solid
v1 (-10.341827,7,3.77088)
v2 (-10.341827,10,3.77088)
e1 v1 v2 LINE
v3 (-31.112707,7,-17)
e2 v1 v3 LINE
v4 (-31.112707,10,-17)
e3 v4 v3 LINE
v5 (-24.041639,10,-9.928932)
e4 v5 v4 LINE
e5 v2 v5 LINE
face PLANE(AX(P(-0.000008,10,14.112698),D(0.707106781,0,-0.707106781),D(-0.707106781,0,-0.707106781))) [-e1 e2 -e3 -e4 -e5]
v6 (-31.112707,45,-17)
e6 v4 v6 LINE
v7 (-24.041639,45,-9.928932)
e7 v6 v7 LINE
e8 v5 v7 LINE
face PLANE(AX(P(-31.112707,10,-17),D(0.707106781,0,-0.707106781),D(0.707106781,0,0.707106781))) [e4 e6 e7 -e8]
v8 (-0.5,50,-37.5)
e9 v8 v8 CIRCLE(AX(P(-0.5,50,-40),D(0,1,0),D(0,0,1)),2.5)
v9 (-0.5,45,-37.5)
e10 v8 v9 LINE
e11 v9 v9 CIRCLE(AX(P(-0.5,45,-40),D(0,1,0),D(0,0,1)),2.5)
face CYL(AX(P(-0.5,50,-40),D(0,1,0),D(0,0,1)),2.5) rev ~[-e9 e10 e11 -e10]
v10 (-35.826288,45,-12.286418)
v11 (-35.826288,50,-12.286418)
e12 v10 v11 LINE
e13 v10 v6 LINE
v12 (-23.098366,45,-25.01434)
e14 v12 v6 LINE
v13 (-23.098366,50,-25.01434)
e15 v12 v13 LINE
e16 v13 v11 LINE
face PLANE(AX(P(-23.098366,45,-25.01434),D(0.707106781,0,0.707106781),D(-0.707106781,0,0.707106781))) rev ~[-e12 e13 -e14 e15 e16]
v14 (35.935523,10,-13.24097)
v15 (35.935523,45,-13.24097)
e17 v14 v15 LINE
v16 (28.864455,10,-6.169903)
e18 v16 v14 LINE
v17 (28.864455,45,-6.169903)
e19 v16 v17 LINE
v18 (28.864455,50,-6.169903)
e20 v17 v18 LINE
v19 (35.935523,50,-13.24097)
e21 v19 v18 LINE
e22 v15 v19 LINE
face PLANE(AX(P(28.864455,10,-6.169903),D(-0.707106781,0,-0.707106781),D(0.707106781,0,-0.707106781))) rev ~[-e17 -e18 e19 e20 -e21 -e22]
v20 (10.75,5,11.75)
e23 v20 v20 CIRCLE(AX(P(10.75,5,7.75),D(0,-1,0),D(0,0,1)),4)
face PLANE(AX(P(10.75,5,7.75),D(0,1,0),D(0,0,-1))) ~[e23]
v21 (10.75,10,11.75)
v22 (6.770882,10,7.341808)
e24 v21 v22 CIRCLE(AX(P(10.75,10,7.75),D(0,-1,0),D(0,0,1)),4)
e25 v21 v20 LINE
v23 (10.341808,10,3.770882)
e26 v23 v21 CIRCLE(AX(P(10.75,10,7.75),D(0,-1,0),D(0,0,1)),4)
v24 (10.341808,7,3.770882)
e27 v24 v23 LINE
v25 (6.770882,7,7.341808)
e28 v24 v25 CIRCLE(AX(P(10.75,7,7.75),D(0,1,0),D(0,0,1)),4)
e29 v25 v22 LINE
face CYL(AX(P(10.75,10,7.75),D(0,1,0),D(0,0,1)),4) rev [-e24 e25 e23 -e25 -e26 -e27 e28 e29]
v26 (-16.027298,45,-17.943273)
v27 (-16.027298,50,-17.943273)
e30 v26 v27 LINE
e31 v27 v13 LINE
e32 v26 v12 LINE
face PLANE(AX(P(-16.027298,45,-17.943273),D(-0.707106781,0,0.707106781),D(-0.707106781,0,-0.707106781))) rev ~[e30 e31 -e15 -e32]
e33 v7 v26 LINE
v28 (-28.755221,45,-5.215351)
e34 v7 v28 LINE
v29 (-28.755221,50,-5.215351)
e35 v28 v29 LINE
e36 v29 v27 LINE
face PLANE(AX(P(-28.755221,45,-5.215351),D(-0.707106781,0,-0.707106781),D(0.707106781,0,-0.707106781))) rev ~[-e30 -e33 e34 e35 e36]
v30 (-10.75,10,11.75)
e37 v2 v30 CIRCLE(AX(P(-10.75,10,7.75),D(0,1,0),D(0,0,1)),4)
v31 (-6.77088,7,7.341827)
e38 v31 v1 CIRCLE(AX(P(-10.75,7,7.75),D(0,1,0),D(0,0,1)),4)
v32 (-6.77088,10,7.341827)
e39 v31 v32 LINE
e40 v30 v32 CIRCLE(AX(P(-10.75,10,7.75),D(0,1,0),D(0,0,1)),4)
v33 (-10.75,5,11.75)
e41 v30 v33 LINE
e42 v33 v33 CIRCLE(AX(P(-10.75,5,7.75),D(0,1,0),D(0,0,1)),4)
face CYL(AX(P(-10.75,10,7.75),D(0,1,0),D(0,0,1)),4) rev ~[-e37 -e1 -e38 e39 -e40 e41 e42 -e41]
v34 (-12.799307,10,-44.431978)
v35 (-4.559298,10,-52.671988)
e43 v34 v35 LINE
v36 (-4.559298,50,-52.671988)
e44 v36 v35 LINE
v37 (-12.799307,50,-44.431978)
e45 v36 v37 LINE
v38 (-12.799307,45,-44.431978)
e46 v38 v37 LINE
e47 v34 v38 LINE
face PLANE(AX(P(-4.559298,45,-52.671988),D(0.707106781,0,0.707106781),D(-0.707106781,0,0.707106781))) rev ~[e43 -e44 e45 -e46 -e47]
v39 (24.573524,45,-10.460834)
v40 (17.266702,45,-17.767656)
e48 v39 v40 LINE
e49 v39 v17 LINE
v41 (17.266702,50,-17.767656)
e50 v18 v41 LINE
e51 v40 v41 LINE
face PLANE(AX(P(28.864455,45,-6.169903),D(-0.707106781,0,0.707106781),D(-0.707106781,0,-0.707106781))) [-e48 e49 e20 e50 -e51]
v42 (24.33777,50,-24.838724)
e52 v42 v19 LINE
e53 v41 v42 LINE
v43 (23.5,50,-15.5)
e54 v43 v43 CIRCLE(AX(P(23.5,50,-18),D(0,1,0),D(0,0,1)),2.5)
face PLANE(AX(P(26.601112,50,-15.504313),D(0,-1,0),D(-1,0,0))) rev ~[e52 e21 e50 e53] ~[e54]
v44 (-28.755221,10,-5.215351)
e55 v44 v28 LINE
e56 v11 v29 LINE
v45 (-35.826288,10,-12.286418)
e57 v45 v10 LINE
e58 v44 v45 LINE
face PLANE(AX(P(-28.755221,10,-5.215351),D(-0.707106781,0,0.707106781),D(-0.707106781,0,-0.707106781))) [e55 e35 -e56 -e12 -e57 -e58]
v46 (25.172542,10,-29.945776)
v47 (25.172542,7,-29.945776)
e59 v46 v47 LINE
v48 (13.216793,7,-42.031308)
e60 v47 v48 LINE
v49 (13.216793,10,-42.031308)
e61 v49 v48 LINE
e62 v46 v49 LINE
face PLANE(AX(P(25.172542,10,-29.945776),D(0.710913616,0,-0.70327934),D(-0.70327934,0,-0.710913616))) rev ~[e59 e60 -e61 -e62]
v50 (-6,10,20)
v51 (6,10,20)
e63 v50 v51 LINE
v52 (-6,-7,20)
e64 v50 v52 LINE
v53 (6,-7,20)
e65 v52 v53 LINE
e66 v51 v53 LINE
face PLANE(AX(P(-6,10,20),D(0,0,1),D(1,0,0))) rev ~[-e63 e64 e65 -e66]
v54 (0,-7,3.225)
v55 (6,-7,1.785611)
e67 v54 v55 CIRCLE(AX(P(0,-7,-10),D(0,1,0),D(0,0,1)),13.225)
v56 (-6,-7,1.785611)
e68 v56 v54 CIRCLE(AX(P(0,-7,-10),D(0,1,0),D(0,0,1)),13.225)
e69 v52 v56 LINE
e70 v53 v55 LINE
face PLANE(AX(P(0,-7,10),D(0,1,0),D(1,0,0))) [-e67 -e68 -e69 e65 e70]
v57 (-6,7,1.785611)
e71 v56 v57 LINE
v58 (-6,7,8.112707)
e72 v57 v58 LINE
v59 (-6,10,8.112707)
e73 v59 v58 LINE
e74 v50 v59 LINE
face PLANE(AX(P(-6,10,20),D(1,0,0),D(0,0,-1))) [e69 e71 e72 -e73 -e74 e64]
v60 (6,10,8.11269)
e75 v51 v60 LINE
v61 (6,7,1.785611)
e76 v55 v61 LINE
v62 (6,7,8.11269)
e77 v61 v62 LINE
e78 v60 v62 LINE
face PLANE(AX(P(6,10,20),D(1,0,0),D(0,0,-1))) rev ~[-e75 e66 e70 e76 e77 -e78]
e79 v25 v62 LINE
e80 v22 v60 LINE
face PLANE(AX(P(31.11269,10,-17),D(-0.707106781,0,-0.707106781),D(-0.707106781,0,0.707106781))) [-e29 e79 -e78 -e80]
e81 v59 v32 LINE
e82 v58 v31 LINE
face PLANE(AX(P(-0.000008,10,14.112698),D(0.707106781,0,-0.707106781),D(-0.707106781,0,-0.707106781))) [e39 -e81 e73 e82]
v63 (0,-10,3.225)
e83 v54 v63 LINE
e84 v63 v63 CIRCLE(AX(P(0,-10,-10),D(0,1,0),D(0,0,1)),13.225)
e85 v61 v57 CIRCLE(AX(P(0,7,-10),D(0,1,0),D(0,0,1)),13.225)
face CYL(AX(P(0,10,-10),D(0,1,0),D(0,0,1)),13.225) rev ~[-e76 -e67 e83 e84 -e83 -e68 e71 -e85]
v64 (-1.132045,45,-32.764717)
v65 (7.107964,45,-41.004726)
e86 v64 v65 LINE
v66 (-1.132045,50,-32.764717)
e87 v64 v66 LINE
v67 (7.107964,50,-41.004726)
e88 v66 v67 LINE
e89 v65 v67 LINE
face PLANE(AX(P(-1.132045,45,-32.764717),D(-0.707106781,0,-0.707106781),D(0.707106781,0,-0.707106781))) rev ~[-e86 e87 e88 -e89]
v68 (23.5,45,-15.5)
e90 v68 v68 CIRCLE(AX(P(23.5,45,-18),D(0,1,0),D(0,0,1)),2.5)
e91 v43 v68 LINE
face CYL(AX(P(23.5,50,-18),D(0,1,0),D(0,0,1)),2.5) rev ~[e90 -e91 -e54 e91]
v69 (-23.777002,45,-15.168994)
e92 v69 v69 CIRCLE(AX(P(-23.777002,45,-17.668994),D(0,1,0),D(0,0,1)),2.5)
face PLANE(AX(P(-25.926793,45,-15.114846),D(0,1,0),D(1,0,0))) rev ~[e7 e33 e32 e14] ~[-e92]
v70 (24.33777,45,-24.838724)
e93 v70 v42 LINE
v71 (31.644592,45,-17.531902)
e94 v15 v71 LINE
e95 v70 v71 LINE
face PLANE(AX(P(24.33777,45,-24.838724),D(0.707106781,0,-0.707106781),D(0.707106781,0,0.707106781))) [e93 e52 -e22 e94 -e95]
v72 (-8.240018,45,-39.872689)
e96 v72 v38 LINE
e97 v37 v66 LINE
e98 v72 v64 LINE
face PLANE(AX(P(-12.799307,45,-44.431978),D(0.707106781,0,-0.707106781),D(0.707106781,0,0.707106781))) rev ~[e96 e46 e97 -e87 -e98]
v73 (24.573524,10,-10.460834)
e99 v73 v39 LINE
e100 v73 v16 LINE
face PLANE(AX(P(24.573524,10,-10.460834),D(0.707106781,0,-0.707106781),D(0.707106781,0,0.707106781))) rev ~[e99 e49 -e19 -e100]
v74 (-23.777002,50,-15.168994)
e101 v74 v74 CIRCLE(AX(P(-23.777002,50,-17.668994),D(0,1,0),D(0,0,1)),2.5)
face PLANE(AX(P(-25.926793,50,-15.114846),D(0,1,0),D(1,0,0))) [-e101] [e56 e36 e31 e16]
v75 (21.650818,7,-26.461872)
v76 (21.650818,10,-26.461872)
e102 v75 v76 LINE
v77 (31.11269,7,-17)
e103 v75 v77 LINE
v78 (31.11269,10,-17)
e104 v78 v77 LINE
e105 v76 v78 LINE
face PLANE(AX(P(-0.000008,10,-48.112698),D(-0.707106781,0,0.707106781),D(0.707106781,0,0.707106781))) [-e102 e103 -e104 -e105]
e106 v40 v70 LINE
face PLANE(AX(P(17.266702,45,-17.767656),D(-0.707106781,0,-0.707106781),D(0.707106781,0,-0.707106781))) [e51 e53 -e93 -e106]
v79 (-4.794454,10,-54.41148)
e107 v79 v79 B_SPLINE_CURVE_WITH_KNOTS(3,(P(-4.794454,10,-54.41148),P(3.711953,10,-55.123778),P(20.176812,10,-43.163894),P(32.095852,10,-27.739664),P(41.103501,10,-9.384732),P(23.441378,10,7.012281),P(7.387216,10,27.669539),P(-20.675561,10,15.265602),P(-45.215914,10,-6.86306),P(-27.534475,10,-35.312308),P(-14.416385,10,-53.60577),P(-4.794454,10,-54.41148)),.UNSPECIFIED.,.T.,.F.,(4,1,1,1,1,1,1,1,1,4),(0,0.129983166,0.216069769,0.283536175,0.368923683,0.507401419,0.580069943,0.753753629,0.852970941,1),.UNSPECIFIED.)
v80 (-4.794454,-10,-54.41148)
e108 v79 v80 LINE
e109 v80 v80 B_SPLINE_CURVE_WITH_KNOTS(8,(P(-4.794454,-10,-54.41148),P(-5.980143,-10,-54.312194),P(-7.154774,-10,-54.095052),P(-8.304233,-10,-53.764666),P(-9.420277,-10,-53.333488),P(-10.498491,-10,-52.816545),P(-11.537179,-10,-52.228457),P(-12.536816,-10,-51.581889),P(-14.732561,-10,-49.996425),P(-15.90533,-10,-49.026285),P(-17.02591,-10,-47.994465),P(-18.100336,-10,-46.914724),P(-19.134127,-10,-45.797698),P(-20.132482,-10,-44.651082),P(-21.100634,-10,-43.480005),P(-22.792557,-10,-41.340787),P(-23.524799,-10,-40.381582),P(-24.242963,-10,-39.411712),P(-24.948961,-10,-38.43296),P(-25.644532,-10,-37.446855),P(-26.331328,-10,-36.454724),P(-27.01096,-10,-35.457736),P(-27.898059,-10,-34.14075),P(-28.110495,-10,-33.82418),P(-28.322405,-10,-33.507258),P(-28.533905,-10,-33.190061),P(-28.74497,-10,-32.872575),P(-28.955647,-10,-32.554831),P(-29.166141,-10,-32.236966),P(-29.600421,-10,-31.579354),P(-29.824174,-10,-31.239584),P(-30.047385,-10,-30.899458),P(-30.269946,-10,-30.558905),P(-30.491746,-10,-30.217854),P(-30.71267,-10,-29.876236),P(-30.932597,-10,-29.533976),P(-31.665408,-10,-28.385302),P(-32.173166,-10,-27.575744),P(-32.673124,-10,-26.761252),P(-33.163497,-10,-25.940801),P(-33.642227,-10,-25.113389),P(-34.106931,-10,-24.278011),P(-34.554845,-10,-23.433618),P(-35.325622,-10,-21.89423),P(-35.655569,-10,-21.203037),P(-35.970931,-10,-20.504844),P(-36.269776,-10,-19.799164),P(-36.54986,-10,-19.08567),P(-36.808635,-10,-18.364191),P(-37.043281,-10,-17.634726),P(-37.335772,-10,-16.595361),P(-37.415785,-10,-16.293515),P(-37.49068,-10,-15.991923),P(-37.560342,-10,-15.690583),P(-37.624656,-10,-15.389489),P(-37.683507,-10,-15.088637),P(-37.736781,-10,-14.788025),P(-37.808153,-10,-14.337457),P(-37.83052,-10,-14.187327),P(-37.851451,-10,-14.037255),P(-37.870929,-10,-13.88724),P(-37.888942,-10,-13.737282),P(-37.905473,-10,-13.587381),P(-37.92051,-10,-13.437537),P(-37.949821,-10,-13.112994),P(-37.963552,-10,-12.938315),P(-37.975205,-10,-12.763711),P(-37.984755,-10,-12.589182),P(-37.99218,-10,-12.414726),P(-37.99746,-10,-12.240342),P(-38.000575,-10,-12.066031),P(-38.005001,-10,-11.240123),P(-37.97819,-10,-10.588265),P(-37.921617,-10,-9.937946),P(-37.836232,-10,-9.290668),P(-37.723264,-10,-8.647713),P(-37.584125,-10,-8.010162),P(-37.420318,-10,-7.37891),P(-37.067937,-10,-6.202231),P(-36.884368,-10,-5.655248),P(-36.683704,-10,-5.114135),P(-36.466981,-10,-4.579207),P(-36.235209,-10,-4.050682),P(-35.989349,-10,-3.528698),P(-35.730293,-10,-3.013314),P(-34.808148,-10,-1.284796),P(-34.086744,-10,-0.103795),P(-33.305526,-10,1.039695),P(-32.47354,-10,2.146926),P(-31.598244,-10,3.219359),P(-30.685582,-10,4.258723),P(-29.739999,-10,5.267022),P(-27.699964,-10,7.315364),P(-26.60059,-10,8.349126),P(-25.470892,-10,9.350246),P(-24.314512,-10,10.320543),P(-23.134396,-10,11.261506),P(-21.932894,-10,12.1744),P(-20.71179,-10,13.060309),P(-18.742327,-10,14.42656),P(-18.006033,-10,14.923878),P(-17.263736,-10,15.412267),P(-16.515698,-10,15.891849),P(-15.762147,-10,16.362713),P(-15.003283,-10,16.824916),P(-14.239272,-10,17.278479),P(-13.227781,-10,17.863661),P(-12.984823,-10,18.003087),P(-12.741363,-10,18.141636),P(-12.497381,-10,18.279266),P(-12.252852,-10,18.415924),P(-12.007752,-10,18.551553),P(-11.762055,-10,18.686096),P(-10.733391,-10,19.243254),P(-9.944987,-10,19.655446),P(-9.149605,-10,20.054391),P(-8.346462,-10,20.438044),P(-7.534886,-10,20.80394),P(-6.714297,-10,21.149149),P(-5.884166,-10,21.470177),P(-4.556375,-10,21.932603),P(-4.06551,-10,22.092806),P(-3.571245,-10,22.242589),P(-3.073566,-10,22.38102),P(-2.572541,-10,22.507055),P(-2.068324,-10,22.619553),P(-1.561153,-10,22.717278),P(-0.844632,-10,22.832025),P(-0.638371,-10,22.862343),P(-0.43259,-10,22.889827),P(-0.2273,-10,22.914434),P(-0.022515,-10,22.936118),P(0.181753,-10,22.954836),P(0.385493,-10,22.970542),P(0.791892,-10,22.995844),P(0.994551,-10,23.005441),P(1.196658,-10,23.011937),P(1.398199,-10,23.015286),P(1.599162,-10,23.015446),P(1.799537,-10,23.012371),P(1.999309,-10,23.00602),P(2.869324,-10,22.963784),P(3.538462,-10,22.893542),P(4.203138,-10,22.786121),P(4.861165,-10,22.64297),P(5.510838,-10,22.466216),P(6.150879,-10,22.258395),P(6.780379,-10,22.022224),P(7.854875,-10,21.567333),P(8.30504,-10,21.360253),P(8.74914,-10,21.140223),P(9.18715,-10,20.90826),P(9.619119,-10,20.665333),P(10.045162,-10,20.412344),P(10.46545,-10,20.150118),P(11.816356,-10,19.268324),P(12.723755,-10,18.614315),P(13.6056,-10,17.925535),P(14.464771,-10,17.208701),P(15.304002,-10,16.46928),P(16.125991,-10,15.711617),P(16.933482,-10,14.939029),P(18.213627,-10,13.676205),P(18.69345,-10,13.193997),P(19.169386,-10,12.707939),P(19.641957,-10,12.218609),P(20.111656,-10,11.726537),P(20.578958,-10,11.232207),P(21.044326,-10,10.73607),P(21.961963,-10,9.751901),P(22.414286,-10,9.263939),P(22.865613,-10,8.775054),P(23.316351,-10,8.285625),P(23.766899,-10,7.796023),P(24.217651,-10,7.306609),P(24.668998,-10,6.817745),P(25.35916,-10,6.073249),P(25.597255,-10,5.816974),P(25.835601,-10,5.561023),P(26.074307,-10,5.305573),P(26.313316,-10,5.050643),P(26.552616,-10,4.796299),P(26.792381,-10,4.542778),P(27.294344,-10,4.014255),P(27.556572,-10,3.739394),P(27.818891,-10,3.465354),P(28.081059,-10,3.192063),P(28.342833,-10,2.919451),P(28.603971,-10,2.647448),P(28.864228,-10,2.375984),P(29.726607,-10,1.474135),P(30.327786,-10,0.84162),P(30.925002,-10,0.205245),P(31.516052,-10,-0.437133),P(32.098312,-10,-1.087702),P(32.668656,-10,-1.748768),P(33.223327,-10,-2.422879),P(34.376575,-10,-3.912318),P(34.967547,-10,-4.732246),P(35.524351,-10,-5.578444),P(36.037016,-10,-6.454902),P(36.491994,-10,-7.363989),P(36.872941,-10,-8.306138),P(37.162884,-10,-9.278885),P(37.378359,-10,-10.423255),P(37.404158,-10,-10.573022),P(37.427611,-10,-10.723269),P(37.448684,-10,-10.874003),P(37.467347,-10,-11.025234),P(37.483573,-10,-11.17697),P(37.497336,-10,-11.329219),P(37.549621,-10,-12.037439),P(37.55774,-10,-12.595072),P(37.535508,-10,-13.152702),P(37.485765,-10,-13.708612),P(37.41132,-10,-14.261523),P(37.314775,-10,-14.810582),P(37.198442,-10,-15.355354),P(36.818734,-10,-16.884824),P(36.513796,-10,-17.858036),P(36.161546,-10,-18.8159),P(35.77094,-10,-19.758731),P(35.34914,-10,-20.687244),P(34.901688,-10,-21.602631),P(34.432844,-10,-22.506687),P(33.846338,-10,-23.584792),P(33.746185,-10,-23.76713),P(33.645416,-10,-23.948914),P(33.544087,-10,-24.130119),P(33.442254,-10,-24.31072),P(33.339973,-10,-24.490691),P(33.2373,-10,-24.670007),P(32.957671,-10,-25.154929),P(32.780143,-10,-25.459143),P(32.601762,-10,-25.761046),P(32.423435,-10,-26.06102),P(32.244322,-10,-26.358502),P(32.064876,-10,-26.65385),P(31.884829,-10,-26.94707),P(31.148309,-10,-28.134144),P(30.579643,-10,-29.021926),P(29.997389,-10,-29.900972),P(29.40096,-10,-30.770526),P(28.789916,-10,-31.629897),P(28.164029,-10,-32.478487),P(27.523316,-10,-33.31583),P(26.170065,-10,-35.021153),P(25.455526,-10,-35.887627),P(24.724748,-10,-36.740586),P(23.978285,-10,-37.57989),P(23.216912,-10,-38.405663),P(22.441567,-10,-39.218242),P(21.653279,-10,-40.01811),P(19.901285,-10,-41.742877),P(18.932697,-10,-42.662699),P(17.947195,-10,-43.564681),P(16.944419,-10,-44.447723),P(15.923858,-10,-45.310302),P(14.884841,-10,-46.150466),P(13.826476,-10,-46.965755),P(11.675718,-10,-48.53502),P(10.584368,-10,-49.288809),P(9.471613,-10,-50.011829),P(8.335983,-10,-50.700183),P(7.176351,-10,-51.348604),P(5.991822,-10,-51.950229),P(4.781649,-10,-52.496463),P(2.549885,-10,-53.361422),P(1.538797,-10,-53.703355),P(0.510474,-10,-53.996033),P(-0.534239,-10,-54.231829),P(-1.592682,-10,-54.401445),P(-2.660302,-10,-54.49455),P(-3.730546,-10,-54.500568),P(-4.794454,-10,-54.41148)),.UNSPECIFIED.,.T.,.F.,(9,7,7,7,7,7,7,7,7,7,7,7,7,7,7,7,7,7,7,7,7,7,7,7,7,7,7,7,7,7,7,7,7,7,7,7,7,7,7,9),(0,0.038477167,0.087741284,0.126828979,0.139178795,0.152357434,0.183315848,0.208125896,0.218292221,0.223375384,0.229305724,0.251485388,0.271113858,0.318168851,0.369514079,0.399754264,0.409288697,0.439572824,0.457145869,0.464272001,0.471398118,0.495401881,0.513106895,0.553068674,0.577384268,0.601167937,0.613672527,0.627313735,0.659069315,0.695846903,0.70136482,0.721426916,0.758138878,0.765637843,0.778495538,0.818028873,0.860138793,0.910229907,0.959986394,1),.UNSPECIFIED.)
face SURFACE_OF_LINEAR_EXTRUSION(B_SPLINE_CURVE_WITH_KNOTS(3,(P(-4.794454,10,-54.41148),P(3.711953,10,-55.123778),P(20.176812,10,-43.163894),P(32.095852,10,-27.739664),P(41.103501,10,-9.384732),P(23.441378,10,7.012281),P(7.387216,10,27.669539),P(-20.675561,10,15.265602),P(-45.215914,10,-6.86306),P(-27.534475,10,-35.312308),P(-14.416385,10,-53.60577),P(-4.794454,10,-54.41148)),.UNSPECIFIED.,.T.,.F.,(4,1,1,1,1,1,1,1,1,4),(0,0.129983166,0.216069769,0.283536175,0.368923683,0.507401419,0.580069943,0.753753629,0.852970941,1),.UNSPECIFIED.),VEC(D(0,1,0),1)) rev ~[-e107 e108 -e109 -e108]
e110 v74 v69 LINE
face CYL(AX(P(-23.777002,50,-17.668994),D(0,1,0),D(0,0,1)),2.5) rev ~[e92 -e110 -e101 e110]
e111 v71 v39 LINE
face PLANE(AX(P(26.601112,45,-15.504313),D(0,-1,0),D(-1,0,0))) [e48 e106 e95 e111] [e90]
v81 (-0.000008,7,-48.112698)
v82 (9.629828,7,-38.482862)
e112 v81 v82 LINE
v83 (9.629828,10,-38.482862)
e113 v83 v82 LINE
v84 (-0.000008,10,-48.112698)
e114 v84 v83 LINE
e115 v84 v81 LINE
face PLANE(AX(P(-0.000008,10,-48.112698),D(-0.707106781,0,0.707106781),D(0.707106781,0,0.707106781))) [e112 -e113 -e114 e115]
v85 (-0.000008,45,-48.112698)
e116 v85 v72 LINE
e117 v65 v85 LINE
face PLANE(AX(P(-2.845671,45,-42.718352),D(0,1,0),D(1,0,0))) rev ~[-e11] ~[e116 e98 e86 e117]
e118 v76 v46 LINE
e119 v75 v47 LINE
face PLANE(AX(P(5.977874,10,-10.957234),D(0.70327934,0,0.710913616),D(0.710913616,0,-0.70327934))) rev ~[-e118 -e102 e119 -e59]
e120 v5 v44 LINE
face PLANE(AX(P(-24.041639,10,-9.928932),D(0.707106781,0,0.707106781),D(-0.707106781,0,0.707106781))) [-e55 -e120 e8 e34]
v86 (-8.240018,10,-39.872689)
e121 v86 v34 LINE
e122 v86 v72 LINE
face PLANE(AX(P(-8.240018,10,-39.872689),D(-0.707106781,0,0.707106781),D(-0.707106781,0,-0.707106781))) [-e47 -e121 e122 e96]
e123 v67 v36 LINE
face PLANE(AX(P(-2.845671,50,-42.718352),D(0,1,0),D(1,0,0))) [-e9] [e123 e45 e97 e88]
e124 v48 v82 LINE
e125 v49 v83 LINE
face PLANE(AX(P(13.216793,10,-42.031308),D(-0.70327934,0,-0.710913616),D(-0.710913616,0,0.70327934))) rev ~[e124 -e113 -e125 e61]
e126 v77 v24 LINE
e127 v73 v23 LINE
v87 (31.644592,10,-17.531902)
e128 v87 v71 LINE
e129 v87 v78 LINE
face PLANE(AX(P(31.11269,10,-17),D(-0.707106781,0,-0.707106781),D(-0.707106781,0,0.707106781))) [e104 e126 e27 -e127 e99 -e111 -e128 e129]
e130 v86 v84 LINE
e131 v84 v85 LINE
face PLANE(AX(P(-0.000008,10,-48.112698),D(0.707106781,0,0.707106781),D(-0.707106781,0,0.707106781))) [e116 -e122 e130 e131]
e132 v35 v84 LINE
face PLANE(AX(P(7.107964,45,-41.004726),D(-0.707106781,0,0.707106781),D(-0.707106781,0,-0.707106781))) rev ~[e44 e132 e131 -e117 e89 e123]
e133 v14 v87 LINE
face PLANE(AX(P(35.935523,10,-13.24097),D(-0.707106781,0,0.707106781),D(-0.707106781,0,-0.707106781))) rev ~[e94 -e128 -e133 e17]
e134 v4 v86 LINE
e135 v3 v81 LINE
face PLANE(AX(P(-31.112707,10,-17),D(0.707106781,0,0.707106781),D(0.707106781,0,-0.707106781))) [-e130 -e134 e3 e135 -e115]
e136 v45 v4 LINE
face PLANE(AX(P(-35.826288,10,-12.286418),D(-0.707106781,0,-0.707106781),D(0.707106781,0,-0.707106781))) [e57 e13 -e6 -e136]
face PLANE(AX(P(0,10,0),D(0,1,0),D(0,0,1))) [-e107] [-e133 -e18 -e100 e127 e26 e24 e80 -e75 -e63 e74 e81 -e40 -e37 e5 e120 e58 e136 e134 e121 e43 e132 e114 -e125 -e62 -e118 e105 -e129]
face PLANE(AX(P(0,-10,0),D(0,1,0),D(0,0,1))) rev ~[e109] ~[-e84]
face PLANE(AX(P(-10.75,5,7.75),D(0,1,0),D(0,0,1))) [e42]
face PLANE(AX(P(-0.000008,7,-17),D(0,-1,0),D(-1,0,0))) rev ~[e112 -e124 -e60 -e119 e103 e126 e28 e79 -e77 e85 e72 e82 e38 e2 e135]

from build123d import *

# Parameters (mm, degrees)
BOSS_EXTRUDE1_DEPTH      = 10
BOSS_EXTRUDE1_DEPTH_BACK = 10
SKETCH2_R                = 60
SKETCH7_R                = 4
CUT_EXTRUDE2_DEPTH       = 5
CUT_EXTRUDE4_DEPTH       = 3
CUT_EXTRUDE5_DEPTH       = 3
BOSS_EXTRUDE2_DEPTH      = 35
BOSS_EXTRUDE3_DEPTH      = 5
SKETCH13_R               = 2.5
CUT_EXTRUDE7_DEPTH       = 5
SKETCH15_R               = 2.5
CUT_EXTRUDE8_DEPTH       = 5
SKETCH14_R               = 2.5
CUT_EXTRUDE9_DEPTH       = 5
SKETCH16_R               = 60
CUT_EXTRUDE10_DEPTH      = 38
SKETCH4_R                = 13.225
CUT_EXTRUDE12_DEPTH      = 42
SKETCH19_W               = 12
SKETCH19_H               = 20
CUT_EXTRUDE13_DEPTH      = 17


with BuildPart() as part:
    # Sketch2 → Boss-Extrude1 (new, two sides: drawn at the far end of the back side and taken through both)
    with BuildSketch(Plane(origin=(0, 0, 0), x_dir=(1, 0, 0), z_dir=(0, 1, 0)).offset(-BOSS_EXTRUDE1_DEPTH_BACK)):
        with Locations(Location((0, 0, 0), (0, 0, 270))):
            Circle(SKETCH2_R)
    extrude(amount=BOSS_EXTRUDE1_DEPTH + BOSS_EXTRUDE1_DEPTH_BACK)

    # Sketch7 → Cut-Extrude2 (cut)
    with BuildSketch(Plane(origin=(0, 10, 0), x_dir=(1, 0, 0), z_dir=(0, 1, 0))):
        with Locations(Location((-10.75, -7.75, 0), (0, 0, 270))):
            Circle(SKETCH7_R)
    cut_extrude2 = extrude(amount=-CUT_EXTRUDE2_DEPTH, mode=Mode.SUBTRACT)

    # Mirror1: Cut-Extrude2 across plane
    add(cut_extrude2.mirror(Plane(origin=(0, 0, 0), x_dir=(0, 0, 1), z_dir=(1, 0, 0))), mode=Mode.SUBTRACT)

    # Sketch9 → Cut-Extrude4 (cut)
    with BuildSketch(Plane(origin=(0, 10, 0), x_dir=(1, 0, 0), z_dir=(0, 1, 0))):
        Polygon((-31.112706744, 17), (-8.372e-06, 48.112698372), (31.11269, 17), (-8.372e-06, -14.112698372), align=None)
    extrude(amount=-CUT_EXTRUDE4_DEPTH, mode=Mode.SUBTRACT)

    # Sketch6 → Cut-Extrude5 (cut)
    with BuildSketch(Plane(origin=(0, 10, 0), x_dir=(1, 0, 0), z_dir=(0, 1, 0))):
        Polygon((-5.977874391, 23.042765738), (5.977874391, 10.957234262), (25.17254203, 29.945776443), (13.216793249, 42.03130792), align=None)
    extrude(amount=-CUT_EXTRUDE5_DEPTH, mode=Mode.SUBTRACT)

    # Sketch11 → Boss-Extrude2 (add)
    with BuildSketch(Plane(origin=(0, 10, 0), x_dir=(1, 0, 0), z_dir=(0, 1, 0))):
        Polygon((-8.372e-06, 48.112698372), (-8.240017503, 39.872689242), (-12.799306685, 44.431978425), (-4.559297555, 52.671987555), align=None)
        Polygon((-31.112706744, 17), (-24.041638933, 9.928932188), (-28.755220541, 5.21535058), (-35.826288353, 12.286418392), align=None)
        Polygon((31.644591703, 17.531901703), (24.573523891, 10.460833891), (28.864455193, 6.169902588), (35.935523005, 13.2409704), align=None)
    extrude(amount=BOSS_EXTRUDE2_DEPTH)

    # Sketch12 → Boss-Extrude3 (add)
    with BuildSketch(Plane(origin=(0, 45, 0), x_dir=(1, 0, 0), z_dir=(0, 1, 0))):
        Polygon((-4.559297555, 52.671987555), (-12.799306685, 44.431978425), (-1.132044796, 32.764716535), (7.107964335, 41.004725665), align=None)
        Polygon((-35.826288353, 12.286418392), (-28.755220541, 5.21535058), (-16.027298479, 17.943272641), (-23.098366291, 25.014340453), align=None)
        Polygon((35.935523005, 13.2409704), (28.864455193, 6.169902588), (17.266701717, 17.767656064), (24.337769529, 24.838723876), align=None)
    extrude(amount=BOSS_EXTRUDE3_DEPTH)

    # Sketch13 → Cut-Extrude7 (cut)
    with BuildSketch(Plane(origin=(0, 50, 0), x_dir=(1, 0, 0), z_dir=(0, 1, 0))):
        with Locations(Location((-0.5, 40, 0), (0, 0, 270))):
            Circle(SKETCH13_R)
    extrude(amount=-CUT_EXTRUDE7_DEPTH, mode=Mode.SUBTRACT)

    # Sketch15 → Cut-Extrude8 (cut)
    with BuildSketch(Plane(origin=(0, 50, 0), x_dir=(1, 0, 0), z_dir=(0, 1, 0))):
        with Locations(Location((-23.777002133, 17.668993601, 0), (0, 0, 270))):
            Circle(SKETCH15_R)
    extrude(amount=-CUT_EXTRUDE8_DEPTH, mode=Mode.SUBTRACT)

    # Sketch14 → Cut-Extrude9 (cut)
    with BuildSketch(Plane(origin=(0, 50, 0), x_dir=(1, 0, 0), z_dir=(0, 1, 0))):
        with Locations(Location((23.5, 18, 0), (0, 0, 270))):
            Circle(SKETCH14_R)
    extrude(amount=-CUT_EXTRUDE9_DEPTH, mode=Mode.SUBTRACT)

    # Sketch16 → Cut-Extrude10 (cut)
    with BuildSketch(Plane(origin=(0, 10, 0), x_dir=(1, 0, 0), z_dir=(0, 1, 0))):
        Circle(SKETCH16_R)
        with BuildLine():
            add(Edge.make_bspline(
                [(-4.79445414, 54.411479542), (3.711953261, 55.123778385), (20.176812176, 43.163893552), (32.095851639, 27.739664068), (41.103501035, 9.384731909), (23.441378071, -7.012281145), (7.387216057, -27.669539214), (-20.675561177, -15.265601832), (-45.215914175, 6.863059518), (-27.534475147, 35.312307502), (-14.416385352, 53.60577037), (-4.79445414, 54.411479542)],
                knots=[0, 0, 0, 0, 0.129983166, 0.216069769, 0.283536175, 0.368923683, 0.507401419, 0.580069943, 0.753753629, 0.852970941, 1, 1, 1, 1], degree=3))
        make_face(mode=Mode.SUBTRACT)
    extrude(amount=-CUT_EXTRUDE10_DEPTH, mode=Mode.SUBTRACT)

    # Sketch4 → Cut-Extrude12 (cut)
    with BuildSketch(Plane(origin=(0, 10, 0), x_dir=(1, 0, 0), z_dir=(0, 1, 0))):
        with Locations(Location((0, 10, 0), (0, 0, 270))):
            Circle(SKETCH4_R)
    extrude(amount=-CUT_EXTRUDE12_DEPTH, mode=Mode.SUBTRACT)

    # Sketch19 → Cut-Extrude13 (cut)
    with BuildSketch(Plane(origin=(0, 10, 0), x_dir=(1, 0, 0), z_dir=(0, 1, 0))):
        with Locations((0, -10)):
            Rectangle(SKETCH19_W, SKETCH19_H)
    extrude(amount=-CUT_EXTRUDE13_DEPTH, mode=Mode.SUBTRACT)


solid = part.part
